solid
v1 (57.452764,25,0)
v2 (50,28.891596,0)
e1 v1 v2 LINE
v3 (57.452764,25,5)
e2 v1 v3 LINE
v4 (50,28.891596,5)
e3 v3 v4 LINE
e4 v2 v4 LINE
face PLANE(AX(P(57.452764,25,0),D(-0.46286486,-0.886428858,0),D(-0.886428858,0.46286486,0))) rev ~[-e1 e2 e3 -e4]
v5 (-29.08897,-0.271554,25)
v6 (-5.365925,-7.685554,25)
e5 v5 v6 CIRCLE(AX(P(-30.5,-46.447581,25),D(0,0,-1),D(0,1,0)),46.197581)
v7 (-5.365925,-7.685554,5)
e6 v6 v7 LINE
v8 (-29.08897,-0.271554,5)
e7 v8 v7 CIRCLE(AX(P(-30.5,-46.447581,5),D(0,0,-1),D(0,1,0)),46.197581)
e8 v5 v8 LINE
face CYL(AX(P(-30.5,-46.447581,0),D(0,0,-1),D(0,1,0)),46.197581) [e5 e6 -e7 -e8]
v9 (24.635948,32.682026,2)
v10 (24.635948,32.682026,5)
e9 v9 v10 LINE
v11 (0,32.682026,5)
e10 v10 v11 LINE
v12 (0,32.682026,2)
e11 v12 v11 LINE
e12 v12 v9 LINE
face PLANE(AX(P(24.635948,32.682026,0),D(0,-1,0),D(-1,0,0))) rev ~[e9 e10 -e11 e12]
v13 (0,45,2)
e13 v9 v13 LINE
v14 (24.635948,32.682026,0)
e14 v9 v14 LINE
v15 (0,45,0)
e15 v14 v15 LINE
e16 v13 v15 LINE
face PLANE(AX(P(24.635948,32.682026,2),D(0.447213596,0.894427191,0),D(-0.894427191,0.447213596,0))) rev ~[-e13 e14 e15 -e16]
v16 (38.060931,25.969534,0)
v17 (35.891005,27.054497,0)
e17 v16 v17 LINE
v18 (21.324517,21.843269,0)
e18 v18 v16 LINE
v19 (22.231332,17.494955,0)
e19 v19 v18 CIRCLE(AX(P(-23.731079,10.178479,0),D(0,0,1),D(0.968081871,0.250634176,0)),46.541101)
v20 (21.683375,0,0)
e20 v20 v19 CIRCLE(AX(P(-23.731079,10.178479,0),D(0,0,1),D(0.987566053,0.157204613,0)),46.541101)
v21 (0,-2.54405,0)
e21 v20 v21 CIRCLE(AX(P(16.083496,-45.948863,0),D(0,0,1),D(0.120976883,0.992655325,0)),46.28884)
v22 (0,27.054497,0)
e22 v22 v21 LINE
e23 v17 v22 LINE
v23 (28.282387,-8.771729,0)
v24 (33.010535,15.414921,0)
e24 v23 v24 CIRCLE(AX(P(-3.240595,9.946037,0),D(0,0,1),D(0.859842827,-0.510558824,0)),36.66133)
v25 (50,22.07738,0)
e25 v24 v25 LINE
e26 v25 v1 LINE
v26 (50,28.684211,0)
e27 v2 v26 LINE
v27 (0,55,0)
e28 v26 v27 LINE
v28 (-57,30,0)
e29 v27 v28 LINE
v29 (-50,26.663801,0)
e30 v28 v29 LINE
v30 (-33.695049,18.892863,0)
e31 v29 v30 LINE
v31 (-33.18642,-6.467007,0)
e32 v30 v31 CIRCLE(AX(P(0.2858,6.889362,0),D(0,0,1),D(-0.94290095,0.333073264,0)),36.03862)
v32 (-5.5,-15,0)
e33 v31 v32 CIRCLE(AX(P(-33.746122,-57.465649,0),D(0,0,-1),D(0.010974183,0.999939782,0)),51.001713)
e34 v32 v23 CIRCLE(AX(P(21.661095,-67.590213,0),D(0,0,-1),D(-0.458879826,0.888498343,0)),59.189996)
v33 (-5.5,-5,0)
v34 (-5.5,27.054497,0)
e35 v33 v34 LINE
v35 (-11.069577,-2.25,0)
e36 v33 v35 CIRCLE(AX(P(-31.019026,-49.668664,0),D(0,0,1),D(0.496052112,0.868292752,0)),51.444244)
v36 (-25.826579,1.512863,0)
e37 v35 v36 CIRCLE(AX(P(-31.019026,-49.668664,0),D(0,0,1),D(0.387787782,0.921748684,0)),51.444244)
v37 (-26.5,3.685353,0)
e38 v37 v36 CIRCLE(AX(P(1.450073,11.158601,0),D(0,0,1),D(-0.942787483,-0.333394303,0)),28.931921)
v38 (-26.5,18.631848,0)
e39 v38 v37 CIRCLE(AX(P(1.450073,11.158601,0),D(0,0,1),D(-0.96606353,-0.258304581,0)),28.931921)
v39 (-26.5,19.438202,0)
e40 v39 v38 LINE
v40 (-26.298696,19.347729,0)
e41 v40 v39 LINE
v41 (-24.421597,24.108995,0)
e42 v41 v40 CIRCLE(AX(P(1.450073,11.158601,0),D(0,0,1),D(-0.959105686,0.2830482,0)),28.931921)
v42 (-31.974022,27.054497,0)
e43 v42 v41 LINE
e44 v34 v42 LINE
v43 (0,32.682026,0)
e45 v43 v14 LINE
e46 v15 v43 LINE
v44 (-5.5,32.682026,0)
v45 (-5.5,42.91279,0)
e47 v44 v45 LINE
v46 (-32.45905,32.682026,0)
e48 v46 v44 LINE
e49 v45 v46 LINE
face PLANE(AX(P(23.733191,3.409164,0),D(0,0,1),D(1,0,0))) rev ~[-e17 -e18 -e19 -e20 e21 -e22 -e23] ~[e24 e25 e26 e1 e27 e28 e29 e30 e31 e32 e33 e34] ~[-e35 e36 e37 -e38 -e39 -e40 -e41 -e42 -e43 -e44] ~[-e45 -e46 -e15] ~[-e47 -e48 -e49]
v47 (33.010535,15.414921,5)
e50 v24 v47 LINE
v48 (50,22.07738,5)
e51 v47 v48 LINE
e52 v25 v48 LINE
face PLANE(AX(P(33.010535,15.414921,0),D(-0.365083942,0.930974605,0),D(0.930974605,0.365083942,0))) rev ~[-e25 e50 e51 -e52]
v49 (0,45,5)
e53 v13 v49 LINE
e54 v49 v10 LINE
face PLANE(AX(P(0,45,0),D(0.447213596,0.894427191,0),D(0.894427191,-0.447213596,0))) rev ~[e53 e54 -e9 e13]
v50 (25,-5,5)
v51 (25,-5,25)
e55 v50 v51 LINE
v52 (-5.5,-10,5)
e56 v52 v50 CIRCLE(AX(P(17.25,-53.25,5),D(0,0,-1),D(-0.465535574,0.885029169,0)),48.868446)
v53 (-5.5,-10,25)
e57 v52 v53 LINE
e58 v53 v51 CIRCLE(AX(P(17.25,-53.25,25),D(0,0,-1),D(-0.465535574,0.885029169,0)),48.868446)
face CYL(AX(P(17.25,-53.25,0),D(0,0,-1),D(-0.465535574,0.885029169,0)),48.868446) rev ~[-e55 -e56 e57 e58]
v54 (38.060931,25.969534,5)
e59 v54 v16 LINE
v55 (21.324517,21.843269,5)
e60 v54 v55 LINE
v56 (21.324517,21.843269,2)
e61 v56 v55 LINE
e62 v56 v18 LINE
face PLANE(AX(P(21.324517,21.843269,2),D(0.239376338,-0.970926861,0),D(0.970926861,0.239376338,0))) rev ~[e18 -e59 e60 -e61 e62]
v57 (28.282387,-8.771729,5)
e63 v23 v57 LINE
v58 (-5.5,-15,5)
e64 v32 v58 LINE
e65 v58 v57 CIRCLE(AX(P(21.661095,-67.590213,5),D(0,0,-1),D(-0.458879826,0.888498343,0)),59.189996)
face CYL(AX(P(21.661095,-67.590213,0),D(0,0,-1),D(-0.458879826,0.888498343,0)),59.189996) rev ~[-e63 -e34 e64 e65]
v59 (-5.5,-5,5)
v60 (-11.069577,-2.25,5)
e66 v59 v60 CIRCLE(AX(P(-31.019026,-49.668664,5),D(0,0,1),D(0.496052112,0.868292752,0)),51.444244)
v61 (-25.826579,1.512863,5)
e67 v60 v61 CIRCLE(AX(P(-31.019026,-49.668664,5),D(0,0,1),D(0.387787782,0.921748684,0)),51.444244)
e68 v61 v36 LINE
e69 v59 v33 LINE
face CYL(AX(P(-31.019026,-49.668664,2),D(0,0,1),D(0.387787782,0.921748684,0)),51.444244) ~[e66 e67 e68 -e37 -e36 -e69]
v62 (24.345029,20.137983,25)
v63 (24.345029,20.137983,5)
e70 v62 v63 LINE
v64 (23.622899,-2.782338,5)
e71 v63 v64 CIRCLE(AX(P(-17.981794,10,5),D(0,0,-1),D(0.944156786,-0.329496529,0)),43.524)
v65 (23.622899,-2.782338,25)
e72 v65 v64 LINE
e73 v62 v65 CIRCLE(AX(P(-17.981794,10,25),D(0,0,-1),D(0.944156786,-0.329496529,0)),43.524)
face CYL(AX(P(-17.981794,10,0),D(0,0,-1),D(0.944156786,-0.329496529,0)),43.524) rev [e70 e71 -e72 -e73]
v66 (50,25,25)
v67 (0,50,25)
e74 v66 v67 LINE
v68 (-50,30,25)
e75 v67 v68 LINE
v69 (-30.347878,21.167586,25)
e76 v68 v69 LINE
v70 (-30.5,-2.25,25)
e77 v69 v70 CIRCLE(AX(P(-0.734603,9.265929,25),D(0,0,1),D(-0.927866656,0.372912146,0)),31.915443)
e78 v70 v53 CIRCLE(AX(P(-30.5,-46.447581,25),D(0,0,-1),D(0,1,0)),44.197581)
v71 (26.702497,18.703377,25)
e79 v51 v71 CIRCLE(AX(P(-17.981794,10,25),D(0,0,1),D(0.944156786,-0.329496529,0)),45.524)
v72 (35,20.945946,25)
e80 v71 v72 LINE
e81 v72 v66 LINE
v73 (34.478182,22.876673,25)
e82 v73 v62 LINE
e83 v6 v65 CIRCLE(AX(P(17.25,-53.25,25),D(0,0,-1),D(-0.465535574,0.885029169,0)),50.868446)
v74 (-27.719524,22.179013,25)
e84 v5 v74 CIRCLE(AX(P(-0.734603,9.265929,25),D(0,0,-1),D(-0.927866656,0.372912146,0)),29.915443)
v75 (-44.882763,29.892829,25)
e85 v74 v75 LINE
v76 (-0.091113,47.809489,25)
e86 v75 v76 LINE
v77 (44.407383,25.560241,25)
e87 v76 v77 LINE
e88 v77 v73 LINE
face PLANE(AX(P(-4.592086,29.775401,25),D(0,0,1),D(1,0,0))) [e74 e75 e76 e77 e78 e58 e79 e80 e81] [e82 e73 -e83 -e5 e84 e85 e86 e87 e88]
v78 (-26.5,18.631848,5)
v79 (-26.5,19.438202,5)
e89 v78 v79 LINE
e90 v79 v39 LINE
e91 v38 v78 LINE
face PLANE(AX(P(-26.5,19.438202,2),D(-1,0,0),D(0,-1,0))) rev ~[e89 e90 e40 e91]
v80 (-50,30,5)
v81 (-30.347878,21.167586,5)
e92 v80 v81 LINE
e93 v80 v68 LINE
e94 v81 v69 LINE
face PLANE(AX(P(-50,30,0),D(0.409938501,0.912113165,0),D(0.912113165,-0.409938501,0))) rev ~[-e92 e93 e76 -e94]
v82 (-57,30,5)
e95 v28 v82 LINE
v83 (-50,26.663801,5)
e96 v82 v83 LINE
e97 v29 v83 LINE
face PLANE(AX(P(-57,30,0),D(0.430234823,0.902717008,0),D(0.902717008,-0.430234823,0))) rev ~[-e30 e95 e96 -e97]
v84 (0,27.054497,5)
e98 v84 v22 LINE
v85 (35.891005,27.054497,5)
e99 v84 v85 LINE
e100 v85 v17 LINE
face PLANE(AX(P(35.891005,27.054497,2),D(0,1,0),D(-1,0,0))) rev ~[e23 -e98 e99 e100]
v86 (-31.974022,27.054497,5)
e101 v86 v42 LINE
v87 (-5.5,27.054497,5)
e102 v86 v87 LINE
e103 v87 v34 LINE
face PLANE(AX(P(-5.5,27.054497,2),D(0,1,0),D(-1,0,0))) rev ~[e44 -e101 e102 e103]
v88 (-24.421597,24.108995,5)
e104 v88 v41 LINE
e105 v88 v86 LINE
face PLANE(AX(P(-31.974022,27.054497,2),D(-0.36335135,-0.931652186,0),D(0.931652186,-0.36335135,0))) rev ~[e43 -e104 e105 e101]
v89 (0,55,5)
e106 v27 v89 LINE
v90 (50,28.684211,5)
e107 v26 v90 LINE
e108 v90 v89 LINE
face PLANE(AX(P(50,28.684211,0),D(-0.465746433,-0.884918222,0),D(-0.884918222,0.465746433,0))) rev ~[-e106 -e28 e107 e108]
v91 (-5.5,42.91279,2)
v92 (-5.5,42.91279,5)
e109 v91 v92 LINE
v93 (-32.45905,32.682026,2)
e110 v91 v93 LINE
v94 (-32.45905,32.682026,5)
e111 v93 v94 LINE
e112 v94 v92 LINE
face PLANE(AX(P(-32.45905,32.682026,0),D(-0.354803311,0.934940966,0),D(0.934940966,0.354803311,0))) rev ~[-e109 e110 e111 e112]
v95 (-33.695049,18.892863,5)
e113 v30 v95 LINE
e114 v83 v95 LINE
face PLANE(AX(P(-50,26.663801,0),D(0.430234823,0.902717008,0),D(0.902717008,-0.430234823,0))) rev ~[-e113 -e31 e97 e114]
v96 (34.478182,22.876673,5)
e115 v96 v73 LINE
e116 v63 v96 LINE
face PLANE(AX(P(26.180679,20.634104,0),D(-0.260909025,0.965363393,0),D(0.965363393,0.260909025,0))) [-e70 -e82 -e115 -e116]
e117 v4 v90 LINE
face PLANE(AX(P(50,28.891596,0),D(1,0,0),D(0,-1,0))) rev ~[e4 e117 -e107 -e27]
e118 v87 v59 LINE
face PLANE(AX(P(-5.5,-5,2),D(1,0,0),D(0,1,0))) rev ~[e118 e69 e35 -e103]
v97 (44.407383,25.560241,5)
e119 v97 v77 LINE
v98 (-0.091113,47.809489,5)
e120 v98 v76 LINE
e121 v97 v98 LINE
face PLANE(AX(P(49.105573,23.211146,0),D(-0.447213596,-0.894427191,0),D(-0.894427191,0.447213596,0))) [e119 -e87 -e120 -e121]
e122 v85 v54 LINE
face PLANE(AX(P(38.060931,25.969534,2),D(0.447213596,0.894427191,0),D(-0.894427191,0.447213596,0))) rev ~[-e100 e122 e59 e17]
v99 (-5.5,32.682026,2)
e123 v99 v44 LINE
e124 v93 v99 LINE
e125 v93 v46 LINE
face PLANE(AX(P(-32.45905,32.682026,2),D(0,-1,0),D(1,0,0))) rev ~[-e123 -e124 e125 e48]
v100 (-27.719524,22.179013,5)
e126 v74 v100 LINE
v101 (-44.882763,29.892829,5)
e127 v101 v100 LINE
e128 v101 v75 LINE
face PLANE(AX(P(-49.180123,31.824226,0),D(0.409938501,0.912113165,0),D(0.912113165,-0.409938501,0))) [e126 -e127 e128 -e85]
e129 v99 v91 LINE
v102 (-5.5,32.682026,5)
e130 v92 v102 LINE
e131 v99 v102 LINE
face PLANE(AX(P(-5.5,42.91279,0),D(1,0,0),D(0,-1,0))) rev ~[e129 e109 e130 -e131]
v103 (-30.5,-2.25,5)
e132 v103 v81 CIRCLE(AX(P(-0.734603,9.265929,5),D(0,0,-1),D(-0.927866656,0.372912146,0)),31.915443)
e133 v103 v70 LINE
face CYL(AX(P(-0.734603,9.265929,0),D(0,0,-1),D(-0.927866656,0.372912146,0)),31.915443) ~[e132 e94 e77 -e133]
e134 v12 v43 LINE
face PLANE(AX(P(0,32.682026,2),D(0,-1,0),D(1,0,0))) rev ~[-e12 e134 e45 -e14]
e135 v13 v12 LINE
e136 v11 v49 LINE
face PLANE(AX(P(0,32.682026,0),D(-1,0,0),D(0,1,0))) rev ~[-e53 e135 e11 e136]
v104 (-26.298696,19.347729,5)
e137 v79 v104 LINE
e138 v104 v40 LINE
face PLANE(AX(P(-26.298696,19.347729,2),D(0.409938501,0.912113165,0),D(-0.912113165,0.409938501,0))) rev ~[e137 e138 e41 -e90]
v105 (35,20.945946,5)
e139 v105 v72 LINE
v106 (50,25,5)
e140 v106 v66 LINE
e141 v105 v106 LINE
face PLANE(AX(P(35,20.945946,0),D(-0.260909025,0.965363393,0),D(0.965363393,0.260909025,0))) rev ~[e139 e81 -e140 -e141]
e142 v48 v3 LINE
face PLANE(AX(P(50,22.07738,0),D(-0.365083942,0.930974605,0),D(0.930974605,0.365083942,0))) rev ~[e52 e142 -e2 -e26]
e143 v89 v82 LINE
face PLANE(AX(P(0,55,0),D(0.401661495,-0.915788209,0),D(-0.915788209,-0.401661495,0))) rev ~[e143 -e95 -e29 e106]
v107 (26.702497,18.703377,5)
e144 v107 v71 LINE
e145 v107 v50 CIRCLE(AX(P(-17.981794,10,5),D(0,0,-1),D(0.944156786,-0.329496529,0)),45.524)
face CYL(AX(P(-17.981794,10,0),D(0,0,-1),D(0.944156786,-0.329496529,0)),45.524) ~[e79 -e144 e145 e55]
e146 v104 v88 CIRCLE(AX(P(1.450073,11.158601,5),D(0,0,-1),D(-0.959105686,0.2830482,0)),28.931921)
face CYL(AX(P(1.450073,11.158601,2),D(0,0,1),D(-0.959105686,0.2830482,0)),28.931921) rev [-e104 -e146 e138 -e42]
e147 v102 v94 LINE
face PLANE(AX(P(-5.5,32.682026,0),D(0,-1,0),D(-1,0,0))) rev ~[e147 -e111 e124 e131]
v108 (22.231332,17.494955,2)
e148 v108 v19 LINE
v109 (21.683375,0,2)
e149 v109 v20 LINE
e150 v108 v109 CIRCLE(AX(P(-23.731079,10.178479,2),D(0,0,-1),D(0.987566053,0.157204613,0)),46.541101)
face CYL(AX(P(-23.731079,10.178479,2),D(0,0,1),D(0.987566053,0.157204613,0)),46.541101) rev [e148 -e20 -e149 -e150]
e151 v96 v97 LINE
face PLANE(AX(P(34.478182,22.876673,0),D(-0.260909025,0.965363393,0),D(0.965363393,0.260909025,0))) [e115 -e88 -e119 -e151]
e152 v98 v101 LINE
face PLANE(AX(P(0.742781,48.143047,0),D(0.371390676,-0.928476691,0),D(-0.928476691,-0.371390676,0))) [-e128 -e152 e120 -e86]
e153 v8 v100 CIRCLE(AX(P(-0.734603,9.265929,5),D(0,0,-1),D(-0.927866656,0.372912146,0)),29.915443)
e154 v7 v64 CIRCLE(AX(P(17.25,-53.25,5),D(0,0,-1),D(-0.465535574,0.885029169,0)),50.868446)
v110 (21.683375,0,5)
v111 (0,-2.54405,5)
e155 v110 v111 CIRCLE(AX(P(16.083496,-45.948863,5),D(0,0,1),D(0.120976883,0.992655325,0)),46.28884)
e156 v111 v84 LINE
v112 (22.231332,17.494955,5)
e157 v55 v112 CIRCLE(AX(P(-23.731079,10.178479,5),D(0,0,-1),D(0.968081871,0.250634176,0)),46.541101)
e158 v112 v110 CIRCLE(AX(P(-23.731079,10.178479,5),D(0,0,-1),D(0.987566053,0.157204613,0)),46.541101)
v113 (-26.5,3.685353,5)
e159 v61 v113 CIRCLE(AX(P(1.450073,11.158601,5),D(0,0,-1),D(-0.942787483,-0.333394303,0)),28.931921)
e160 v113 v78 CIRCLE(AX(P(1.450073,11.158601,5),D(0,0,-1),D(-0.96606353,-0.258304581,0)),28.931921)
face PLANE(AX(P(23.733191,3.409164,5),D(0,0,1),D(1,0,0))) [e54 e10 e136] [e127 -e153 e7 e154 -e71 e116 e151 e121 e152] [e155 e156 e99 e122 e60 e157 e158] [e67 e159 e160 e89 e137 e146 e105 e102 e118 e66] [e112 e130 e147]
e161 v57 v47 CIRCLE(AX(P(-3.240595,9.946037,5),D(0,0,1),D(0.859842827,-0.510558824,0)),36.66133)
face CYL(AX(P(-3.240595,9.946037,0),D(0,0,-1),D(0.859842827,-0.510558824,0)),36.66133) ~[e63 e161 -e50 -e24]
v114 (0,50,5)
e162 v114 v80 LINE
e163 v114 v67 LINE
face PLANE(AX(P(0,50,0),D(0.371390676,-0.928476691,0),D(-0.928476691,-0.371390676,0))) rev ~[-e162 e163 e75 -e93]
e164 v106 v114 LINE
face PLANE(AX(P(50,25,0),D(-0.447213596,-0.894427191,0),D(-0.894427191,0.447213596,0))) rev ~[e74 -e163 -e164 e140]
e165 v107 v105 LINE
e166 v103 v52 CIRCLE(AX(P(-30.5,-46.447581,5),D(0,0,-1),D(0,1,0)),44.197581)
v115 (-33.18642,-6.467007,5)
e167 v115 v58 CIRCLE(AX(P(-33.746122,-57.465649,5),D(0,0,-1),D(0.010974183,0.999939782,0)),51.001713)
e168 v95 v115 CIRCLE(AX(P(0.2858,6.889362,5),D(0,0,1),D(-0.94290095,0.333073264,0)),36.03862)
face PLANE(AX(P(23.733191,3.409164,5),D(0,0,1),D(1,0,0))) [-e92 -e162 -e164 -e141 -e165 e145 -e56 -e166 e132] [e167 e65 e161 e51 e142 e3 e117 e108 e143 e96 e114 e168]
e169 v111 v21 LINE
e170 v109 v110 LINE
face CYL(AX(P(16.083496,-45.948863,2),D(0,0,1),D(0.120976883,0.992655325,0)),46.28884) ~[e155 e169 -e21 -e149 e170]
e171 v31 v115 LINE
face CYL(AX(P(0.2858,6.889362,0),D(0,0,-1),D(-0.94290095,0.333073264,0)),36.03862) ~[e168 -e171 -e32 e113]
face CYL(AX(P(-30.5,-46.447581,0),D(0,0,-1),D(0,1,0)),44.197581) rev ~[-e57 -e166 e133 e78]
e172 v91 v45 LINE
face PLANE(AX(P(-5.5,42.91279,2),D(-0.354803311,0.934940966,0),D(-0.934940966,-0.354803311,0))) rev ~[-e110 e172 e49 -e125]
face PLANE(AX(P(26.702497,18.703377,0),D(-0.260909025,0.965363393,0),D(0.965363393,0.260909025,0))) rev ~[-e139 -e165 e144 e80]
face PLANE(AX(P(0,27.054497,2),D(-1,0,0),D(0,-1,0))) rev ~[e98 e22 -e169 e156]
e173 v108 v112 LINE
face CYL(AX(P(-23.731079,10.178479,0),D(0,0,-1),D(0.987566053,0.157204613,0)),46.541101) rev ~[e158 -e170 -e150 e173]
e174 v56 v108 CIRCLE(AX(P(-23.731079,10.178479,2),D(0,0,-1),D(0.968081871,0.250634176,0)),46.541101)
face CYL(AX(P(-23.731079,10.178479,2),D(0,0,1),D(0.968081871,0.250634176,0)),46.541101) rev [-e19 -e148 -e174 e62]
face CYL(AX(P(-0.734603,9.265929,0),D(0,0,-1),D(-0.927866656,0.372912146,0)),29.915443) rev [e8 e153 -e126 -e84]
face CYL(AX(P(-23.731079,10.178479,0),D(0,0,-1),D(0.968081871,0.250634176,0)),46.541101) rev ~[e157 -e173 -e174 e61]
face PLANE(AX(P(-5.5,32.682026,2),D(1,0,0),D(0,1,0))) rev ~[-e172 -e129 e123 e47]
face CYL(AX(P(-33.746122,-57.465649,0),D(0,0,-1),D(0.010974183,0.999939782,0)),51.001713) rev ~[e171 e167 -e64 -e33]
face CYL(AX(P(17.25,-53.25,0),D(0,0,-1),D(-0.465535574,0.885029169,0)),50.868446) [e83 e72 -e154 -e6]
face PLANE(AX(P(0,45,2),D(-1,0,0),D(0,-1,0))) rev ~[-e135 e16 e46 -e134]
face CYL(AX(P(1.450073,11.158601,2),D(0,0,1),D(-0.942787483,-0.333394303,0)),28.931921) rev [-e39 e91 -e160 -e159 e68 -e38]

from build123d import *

# Parameters (mm, degrees)
F1_DEPTH = 25
F2_T     = -2
F3_DEPTH = 5
F4_DEPTH = 2.001


with BuildPart() as f1:
    # F0 (on Top) → F1 (new body)
    with BuildSketch(Plane.XY):
        with BuildLine():
            Line((50, 25), (0, 50))
            Line((0, 50), (-50, 30))
            Line((-50, 30), (-30.3478781134, 21.1675856689))
            ThreePointArc((-30.3478781134, 21.1675856689), (-32.6493723673, 9.4732493681), (-30.5, -2.25))
            Line((-30.5, -2.25), (-26.5, -2.25))
            Line((-26.5, -2.25), (-26.5, 3.6853529656))
            ThreePointArc((-26.5, 3.6853529656), (-27.4818472664, 11.1586005985), (-26.5, 18.6318482313))
            Line((-26.5, 18.6318482313), (-26.5, 19.4382022472))
            Line((-26.5, 19.4382022472), (-26.2986962157, 19.3477286363))
            ThreePointArc((-26.2986962157, 19.3477286363), (-25.4656340579, 21.7699494798), (-24.4215968996, 24.1089947522))
            Line((-24.4215968996, 24.1089947522), (-31.9740222767, 27.0544973761))
            Line((-31.9740222767, 27.0544973761), (-39.5264476538, 30))
            Line((-39.5264476538, 30), (-32.4590496756, 32.6820262372))
            Line((-32.4590496756, 32.6820262372), (-5.5, 42.9127899192))
            Line((-5.5, 42.9127899192), (0, 45))
            Line((0, 45), (24.6359475255, 32.6820262372))
            Line((24.6359475255, 32.6820262372), (35.8910052478, 27.0544973761))
            Line((35.8910052478, 27.0544973761), (38.0609311461, 25.9695344269))
            Line((38.0609311461, 25.9695344269), (34.1284329528, 25))
            Line((34.1284329528, 25), (25.6717936096, 22.915065036))
            ThreePointArc((25.6717936096, 22.915065036), (26.2373168575, 20.8214995062), (26.7024967211, 18.7033774922))
            Line((26.7024967211, 18.7033774922), (35, 20.9459459459))
            Line((35, 20.9459459459), (50, 25))
        make_face()
        with BuildLine():
            Line((-26.5, 3.6853529656), (-26.5, -2.25))
            Line((-26.5, -2.25), (-11.0695765548, -2.25))
            ThreePointArc((-11.0695765548, -2.25), (-18.3080653559, 0.1805256036), (-25.8265792788, 1.5128631071))
            ThreePointArc((-25.8265792788, 1.5128631071), (-26.1846465442, 2.5924878985), (-26.5, 3.6853529656))
        make_face()
        with BuildLine():
            ThreePointArc((25, -5), (27.4252333214, 6.7386371679), (26.7024967211, 18.7033774922))
            Line((26.7024967211, 18.7033774922), (22.2313324849, 17.4949547256))
            ThreePointArc((22.2313324849, 17.4949547256), (22.7872104866, 8.7214855275), (21.6833752096, 0))
            ThreePointArc((21.6833752096, 0), (10.6895547346, 0.0246300535), (0, -2.5440495396))
            ThreePointArc((0, -2.5440495396), (-2.7899905559, -3.6824675653), (-5.5, -5))
            Line((-5.5, -5), (-5.5, -10))
            ThreePointArc((-5.5, -10), (9.3443058496, -5.0252656824), (25, -5))
        make_face()
        with BuildLine():
            Line((-26.5, -2.25), (-30.5, -2.25))
            ThreePointArc((-30.5, -2.25), (-17.4131506848, -4.2319376927), (-5.5, -10))
            Line((-5.5, -10), (-5.5, -5))
            ThreePointArc((-5.5, -5), (-8.2432452262, -3.5408628349), (-11.0695765548, -2.25))
            Line((-11.0695765548, -2.25), (-26.5, -2.25))
        make_face()
        with BuildLine():
            Line((-5.5, -2.25), (-11.0695765548, -2.25))
            ThreePointArc((-11.0695765548, -2.25), (-8.2432452262, -3.5408628349), (-5.5, -5))
            Line((-5.5, -5), (-5.5, -2.25))
        make_face()
        with BuildLine():
            Line((-5.5, -2.25), (-5.5, -5))
            ThreePointArc((-5.5, -5), (-2.7899905559, -3.6824675653), (0, -2.5440495396))
            Line((0, -2.5440495396), (0, 10))
            Line((0, 10), (0, 15))
            Line((0, 15), (0, 25))
            Line((0, 25), (0, 27.0544973761))
            Line((0, 27.0544973761), (0, 30))
            Line((0, 30), (0, 32.6820262372))
            Line((0, 32.6820262372), (0, 45))
            Line((0, 45), (-5.5, 42.9127899192))
            Line((-5.5, 42.9127899192), (-5.5, 32.6820262372))
            Line((-5.5, 32.6820262372), (-32.4590496756, 32.6820262372))
            Line((-32.4590496756, 32.6820262372), (-39.5264476538, 30))
            Line((-39.5264476538, 30), (-31.9740222767, 27.0544973761))
            Line((-31.9740222767, 27.0544973761), (-5.5, 27.0544973761))
            Line((-5.5, 27.0544973761), (-5.5, -2.25))
        make_face()
        with BuildLine():
            Line((21.3245172054, 21.8432694674), (25.6717936096, 22.915065036))
            Line((25.6717936096, 22.915065036), (34.1284329528, 25))
            Line((34.1284329528, 25), (38.0609311461, 25.9695344269))
            Line((38.0609311461, 25.9695344269), (35.8910052478, 27.0544973761))
            Line((35.8910052478, 27.0544973761), (0, 27.0544973761))
            Line((0, 27.0544973761), (0, 25))
            Line((0, 25), (0, 15))
            Line((0, 15), (0, 10))
            Line((0, 10), (0, -2.5440495396))
            ThreePointArc((0, -2.5440495396), (10.6895547346, 0.0246300535), (21.6833752096, 0))
            ThreePointArc((21.6833752096, 0), (22.7872104866, 8.7214855275), (22.2313324849, 17.4949547256))
            ThreePointArc((22.2313324849, 17.4949547256), (21.8298295871, 19.6799365229), (21.3245172054, 21.8432694674))
        make_face()
        with BuildLine():
            Line((22.2313324849, 17.4949547256), (26.7024967211, 18.7033774922))
            ThreePointArc((26.7024967211, 18.7033774922), (26.2373168575, 20.8214995062), (25.6717936096, 22.915065036))
            Line((25.6717936096, 22.915065036), (21.3245172054, 21.8432694674))
            ThreePointArc((21.3245172054, 21.8432694674), (21.8298295871, 19.6799365229), (22.2313324849, 17.4949547256))
        make_face()
        Polygon((0, 27.0544973761), (35.8910052478, 27.0544973761), (24.6359475255, 32.6820262372), (0, 32.6820262372), (0, 30), align=None)
        Polygon((0, 32.6820262372), (24.6359475255, 32.6820262372), (0, 45), align=None)
        Polygon((-5.5, 32.6820262372), (-5.5, 42.9127899192), (-32.4590496756, 32.6820262372), align=None)
        with BuildLine():
            ThreePointArc((-25.8265792788, 1.5128631071), (-18.3080653559, 0.1805256036), (-11.0695765548, -2.25))
            Line((-11.0695765548, -2.25), (-5.5, -2.25))
            Line((-5.5, -2.25), (-5.5, 27.0544973761))
            Line((-5.5, 27.0544973761), (-31.9740222767, 27.0544973761))
            Line((-31.9740222767, 27.0544973761), (-24.4215968996, 24.1089947522))
            ThreePointArc((-24.4215968996, 24.1089947522), (-25.4656340579, 21.7699494798), (-26.2986962157, 19.3477286363))
            ThreePointArc((-26.2986962157, 19.3477286363), (-26.4016482615, 18.9904352313), (-26.5, 18.6318482313))
            ThreePointArc((-26.5, 18.6318482313), (-27.4818472664, 11.1586005985), (-26.5, 3.6853529656))
            ThreePointArc((-26.5, 3.6853529656), (-26.1846465442, 2.5924878985), (-25.8265792788, 1.5128631071))
        make_face()
        with BuildLine():
            Line((-26.5, 19.4382022472), (-26.5, 18.6318482313))
            ThreePointArc((-26.5, 18.6318482313), (-26.4016482615, 18.9904352313), (-26.2986962157, 19.3477286363))
            Line((-26.2986962157, 19.3477286363), (-26.5, 19.4382022472))
        make_face()
    extrude(amount=F1_DEPTH)

    # F2
    f2_openings = [f1.faces().sort_by_distance(p)[0] for p in [
        (-1.454466, 20.176979, 25),
    ]]
    offset(amount=F2_T, openings=f2_openings, kind=Kind.INTERSECTION)

    # F0 (on Top) → F3 (join)
    with BuildSketch(Plane.XY):
        with BuildLine():
            Line((50, 22.0773804358), (50, 25))
            Line((50, 25), (35, 20.9459459459))
            Line((35, 20.9459459459), (26.7024967211, 18.7033774922))
            ThreePointArc((26.7024967211, 18.7033774922), (27.4252333214, 6.7386371679), (25, -5))
            ThreePointArc((25, -5), (9.3443058496, -5.0252656824), (-5.5, -10))
            Line((-5.5, -10), (-5.5, -15))
            ThreePointArc((-5.5, -15), (10.9294258994, -9.3812200513), (28.2823865676, -8.7717288371))
            ThreePointArc((28.2823865676, -8.7717288371), (32.739691971, 2.91239876), (33.0105349422, 15.4149206355))
            Line((33.0105349422, 15.4149206355), (50, 22.0773804358))
        make_face()
        Polygon((50, 28.6842105263), (9.5, 50), (0, 50), (50, 25), align=None)
        Polygon((0, 50), (9.5, 50), (0, 55), (-11.4, 50), align=None)
        Polygon((-50, 30), (0, 50), (-11.4, 50), (-50, 33.0701754386), align=None)
        Polygon((-50, 26.6638008012), (-50, 30), (-50, 33.0701754386), (-57, 30), align=None)
        with BuildLine():
            Line((-30.3478781134, 21.1675856689), (-50, 30))
            Line((-50, 30), (-50, 26.6638008012))
            Line((-50, 26.6638008012), (-33.6950486526, 18.8928628554))
            ThreePointArc((-33.6950486526, 18.8928628554), (-35.7455733347, 6.1667010563), (-33.1864199092, -6.467007004))
            ThreePointArc((-33.1864199092, -6.467007004), (-18.7245752181, -8.7262616008), (-5.5, -15))
            Line((-5.5, -15), (-5.5, -10))
            ThreePointArc((-5.5, -10), (-17.4131506848, -4.2319376927), (-30.5, -2.25))
            ThreePointArc((-30.5, -2.25), (-32.6493723673, 9.4732493681), (-30.3478781134, 21.1675856689))
        make_face()
        with BuildLine():
            ThreePointArc((25, -5), (27.4252333214, 6.7386371679), (26.7024967211, 18.7033774922))
            Line((26.7024967211, 18.7033774922), (22.2313324849, 17.4949547256))
            ThreePointArc((22.2313324849, 17.4949547256), (22.7872104866, 8.7214855275), (21.6833752096, 0))
            ThreePointArc((21.6833752096, 0), (10.6895547346, 0.0246300535), (0, -2.5440495396))
            ThreePointArc((0, -2.5440495396), (-2.7899905559, -3.6824675653), (-5.5, -5))
            Line((-5.5, -5), (-5.5, -10))
            ThreePointArc((-5.5, -10), (9.3443058496, -5.0252656824), (25, -5))
        make_face()
        with BuildLine():
            Line((-26.5, -2.25), (-30.5, -2.25))
            ThreePointArc((-30.5, -2.25), (-17.4131506848, -4.2319376927), (-5.5, -10))
            Line((-5.5, -10), (-5.5, -5))
            ThreePointArc((-5.5, -5), (-8.2432452262, -3.5408628349), (-11.0695765548, -2.25))
            Line((-11.0695765548, -2.25), (-26.5, -2.25))
        make_face()
        with BuildLine():
            Line((-26.5, 3.6853529656), (-26.5, -2.25))
            Line((-26.5, -2.25), (-11.0695765548, -2.25))
            ThreePointArc((-11.0695765548, -2.25), (-18.3080653559, 0.1805256036), (-25.8265792788, 1.5128631071))
            ThreePointArc((-25.8265792788, 1.5128631071), (-26.1846465442, 2.5924878985), (-26.5, 3.6853529656))
        make_face()
        with BuildLine():
            Line((50, 25), (0, 50))
            Line((0, 50), (-50, 30))
            Line((-50, 30), (-30.3478781134, 21.1675856689))
            ThreePointArc((-30.3478781134, 21.1675856689), (-32.6493723673, 9.4732493681), (-30.5, -2.25))
            Line((-30.5, -2.25), (-26.5, -2.25))
            Line((-26.5, -2.25), (-26.5, 3.6853529656))
            ThreePointArc((-26.5, 3.6853529656), (-27.4818472664, 11.1586005985), (-26.5, 18.6318482313))
            Line((-26.5, 18.6318482313), (-26.5, 19.4382022472))
            Line((-26.5, 19.4382022472), (-26.2986962157, 19.3477286363))
            ThreePointArc((-26.2986962157, 19.3477286363), (-25.4656340579, 21.7699494798), (-24.4215968996, 24.1089947522))
            Line((-24.4215968996, 24.1089947522), (-31.9740222767, 27.0544973761))
            Line((-31.9740222767, 27.0544973761), (-39.5264476538, 30))
            Line((-39.5264476538, 30), (-32.4590496756, 32.6820262372))
            Line((-32.4590496756, 32.6820262372), (-5.5, 42.9127899192))
            Line((-5.5, 42.9127899192), (0, 45))
            Line((0, 45), (24.6359475255, 32.6820262372))
            Line((24.6359475255, 32.6820262372), (35.8910052478, 27.0544973761))
            Line((35.8910052478, 27.0544973761), (38.0609311461, 25.9695344269))
            Line((38.0609311461, 25.9695344269), (34.1284329528, 25))
            Line((34.1284329528, 25), (25.6717936096, 22.915065036))
            ThreePointArc((25.6717936096, 22.915065036), (26.2373168575, 20.8214995062), (26.7024967211, 18.7033774922))
            Line((26.7024967211, 18.7033774922), (35, 20.9459459459))
            Line((35, 20.9459459459), (50, 25))
        make_face()
        with BuildLine():
            Line((22.2313324849, 17.4949547256), (26.7024967211, 18.7033774922))
            ThreePointArc((26.7024967211, 18.7033774922), (26.2373168575, 20.8214995062), (25.6717936096, 22.915065036))
            Line((25.6717936096, 22.915065036), (21.3245172054, 21.8432694674))
            ThreePointArc((21.3245172054, 21.8432694674), (21.8298295871, 19.6799365229), (22.2313324849, 17.4949547256))
        make_face()
        with BuildLine():
            Line((-5.5, -2.25), (-5.5, -5))
            ThreePointArc((-5.5, -5), (-2.7899905559, -3.6824675653), (0, -2.5440495396))
            Line((0, -2.5440495396), (0, 10))
            Line((0, 10), (0, 15))
            Line((0, 15), (0, 25))
            Line((0, 25), (0, 27.0544973761))
            Line((0, 27.0544973761), (0, 30))
            Line((0, 30), (0, 32.6820262372))
            Line((0, 32.6820262372), (0, 45))
            Line((0, 45), (-5.5, 42.9127899192))
            Line((-5.5, 42.9127899192), (-5.5, 32.6820262372))
            Line((-5.5, 32.6820262372), (-32.4590496756, 32.6820262372))
            Line((-32.4590496756, 32.6820262372), (-39.5264476538, 30))
            Line((-39.5264476538, 30), (-31.9740222767, 27.0544973761))
            Line((-31.9740222767, 27.0544973761), (-5.5, 27.0544973761))
            Line((-5.5, 27.0544973761), (-5.5, -2.25))
        make_face()
        Polygon((0, 27.0544973761), (35.8910052478, 27.0544973761), (24.6359475255, 32.6820262372), (0, 32.6820262372), (0, 30), align=None)
        Polygon((57.4527643621, 25), (50, 28.8915957021), (50, 28.6842105263), (50, 25), (50, 22.0773804358), align=None)
    extrude(amount=F3_DEPTH)

    # F4 (cut, through all): faces of the model
    f4_faces = [f1.faces().sort_by_distance(p)[0] for p in [
        (-15.7903143364, 13.0391590312, 2),
        (12.2322076689, 14.1398784717, 2),
        (8.2119825085, 36.7880174915, 2),
        (-14.4863498919, 36.0922807979, 2),
    ]]
    extrude(f4_faces, amount=-F4_DEPTH, mode=Mode.SUBTRACT)


solid = f1.part
